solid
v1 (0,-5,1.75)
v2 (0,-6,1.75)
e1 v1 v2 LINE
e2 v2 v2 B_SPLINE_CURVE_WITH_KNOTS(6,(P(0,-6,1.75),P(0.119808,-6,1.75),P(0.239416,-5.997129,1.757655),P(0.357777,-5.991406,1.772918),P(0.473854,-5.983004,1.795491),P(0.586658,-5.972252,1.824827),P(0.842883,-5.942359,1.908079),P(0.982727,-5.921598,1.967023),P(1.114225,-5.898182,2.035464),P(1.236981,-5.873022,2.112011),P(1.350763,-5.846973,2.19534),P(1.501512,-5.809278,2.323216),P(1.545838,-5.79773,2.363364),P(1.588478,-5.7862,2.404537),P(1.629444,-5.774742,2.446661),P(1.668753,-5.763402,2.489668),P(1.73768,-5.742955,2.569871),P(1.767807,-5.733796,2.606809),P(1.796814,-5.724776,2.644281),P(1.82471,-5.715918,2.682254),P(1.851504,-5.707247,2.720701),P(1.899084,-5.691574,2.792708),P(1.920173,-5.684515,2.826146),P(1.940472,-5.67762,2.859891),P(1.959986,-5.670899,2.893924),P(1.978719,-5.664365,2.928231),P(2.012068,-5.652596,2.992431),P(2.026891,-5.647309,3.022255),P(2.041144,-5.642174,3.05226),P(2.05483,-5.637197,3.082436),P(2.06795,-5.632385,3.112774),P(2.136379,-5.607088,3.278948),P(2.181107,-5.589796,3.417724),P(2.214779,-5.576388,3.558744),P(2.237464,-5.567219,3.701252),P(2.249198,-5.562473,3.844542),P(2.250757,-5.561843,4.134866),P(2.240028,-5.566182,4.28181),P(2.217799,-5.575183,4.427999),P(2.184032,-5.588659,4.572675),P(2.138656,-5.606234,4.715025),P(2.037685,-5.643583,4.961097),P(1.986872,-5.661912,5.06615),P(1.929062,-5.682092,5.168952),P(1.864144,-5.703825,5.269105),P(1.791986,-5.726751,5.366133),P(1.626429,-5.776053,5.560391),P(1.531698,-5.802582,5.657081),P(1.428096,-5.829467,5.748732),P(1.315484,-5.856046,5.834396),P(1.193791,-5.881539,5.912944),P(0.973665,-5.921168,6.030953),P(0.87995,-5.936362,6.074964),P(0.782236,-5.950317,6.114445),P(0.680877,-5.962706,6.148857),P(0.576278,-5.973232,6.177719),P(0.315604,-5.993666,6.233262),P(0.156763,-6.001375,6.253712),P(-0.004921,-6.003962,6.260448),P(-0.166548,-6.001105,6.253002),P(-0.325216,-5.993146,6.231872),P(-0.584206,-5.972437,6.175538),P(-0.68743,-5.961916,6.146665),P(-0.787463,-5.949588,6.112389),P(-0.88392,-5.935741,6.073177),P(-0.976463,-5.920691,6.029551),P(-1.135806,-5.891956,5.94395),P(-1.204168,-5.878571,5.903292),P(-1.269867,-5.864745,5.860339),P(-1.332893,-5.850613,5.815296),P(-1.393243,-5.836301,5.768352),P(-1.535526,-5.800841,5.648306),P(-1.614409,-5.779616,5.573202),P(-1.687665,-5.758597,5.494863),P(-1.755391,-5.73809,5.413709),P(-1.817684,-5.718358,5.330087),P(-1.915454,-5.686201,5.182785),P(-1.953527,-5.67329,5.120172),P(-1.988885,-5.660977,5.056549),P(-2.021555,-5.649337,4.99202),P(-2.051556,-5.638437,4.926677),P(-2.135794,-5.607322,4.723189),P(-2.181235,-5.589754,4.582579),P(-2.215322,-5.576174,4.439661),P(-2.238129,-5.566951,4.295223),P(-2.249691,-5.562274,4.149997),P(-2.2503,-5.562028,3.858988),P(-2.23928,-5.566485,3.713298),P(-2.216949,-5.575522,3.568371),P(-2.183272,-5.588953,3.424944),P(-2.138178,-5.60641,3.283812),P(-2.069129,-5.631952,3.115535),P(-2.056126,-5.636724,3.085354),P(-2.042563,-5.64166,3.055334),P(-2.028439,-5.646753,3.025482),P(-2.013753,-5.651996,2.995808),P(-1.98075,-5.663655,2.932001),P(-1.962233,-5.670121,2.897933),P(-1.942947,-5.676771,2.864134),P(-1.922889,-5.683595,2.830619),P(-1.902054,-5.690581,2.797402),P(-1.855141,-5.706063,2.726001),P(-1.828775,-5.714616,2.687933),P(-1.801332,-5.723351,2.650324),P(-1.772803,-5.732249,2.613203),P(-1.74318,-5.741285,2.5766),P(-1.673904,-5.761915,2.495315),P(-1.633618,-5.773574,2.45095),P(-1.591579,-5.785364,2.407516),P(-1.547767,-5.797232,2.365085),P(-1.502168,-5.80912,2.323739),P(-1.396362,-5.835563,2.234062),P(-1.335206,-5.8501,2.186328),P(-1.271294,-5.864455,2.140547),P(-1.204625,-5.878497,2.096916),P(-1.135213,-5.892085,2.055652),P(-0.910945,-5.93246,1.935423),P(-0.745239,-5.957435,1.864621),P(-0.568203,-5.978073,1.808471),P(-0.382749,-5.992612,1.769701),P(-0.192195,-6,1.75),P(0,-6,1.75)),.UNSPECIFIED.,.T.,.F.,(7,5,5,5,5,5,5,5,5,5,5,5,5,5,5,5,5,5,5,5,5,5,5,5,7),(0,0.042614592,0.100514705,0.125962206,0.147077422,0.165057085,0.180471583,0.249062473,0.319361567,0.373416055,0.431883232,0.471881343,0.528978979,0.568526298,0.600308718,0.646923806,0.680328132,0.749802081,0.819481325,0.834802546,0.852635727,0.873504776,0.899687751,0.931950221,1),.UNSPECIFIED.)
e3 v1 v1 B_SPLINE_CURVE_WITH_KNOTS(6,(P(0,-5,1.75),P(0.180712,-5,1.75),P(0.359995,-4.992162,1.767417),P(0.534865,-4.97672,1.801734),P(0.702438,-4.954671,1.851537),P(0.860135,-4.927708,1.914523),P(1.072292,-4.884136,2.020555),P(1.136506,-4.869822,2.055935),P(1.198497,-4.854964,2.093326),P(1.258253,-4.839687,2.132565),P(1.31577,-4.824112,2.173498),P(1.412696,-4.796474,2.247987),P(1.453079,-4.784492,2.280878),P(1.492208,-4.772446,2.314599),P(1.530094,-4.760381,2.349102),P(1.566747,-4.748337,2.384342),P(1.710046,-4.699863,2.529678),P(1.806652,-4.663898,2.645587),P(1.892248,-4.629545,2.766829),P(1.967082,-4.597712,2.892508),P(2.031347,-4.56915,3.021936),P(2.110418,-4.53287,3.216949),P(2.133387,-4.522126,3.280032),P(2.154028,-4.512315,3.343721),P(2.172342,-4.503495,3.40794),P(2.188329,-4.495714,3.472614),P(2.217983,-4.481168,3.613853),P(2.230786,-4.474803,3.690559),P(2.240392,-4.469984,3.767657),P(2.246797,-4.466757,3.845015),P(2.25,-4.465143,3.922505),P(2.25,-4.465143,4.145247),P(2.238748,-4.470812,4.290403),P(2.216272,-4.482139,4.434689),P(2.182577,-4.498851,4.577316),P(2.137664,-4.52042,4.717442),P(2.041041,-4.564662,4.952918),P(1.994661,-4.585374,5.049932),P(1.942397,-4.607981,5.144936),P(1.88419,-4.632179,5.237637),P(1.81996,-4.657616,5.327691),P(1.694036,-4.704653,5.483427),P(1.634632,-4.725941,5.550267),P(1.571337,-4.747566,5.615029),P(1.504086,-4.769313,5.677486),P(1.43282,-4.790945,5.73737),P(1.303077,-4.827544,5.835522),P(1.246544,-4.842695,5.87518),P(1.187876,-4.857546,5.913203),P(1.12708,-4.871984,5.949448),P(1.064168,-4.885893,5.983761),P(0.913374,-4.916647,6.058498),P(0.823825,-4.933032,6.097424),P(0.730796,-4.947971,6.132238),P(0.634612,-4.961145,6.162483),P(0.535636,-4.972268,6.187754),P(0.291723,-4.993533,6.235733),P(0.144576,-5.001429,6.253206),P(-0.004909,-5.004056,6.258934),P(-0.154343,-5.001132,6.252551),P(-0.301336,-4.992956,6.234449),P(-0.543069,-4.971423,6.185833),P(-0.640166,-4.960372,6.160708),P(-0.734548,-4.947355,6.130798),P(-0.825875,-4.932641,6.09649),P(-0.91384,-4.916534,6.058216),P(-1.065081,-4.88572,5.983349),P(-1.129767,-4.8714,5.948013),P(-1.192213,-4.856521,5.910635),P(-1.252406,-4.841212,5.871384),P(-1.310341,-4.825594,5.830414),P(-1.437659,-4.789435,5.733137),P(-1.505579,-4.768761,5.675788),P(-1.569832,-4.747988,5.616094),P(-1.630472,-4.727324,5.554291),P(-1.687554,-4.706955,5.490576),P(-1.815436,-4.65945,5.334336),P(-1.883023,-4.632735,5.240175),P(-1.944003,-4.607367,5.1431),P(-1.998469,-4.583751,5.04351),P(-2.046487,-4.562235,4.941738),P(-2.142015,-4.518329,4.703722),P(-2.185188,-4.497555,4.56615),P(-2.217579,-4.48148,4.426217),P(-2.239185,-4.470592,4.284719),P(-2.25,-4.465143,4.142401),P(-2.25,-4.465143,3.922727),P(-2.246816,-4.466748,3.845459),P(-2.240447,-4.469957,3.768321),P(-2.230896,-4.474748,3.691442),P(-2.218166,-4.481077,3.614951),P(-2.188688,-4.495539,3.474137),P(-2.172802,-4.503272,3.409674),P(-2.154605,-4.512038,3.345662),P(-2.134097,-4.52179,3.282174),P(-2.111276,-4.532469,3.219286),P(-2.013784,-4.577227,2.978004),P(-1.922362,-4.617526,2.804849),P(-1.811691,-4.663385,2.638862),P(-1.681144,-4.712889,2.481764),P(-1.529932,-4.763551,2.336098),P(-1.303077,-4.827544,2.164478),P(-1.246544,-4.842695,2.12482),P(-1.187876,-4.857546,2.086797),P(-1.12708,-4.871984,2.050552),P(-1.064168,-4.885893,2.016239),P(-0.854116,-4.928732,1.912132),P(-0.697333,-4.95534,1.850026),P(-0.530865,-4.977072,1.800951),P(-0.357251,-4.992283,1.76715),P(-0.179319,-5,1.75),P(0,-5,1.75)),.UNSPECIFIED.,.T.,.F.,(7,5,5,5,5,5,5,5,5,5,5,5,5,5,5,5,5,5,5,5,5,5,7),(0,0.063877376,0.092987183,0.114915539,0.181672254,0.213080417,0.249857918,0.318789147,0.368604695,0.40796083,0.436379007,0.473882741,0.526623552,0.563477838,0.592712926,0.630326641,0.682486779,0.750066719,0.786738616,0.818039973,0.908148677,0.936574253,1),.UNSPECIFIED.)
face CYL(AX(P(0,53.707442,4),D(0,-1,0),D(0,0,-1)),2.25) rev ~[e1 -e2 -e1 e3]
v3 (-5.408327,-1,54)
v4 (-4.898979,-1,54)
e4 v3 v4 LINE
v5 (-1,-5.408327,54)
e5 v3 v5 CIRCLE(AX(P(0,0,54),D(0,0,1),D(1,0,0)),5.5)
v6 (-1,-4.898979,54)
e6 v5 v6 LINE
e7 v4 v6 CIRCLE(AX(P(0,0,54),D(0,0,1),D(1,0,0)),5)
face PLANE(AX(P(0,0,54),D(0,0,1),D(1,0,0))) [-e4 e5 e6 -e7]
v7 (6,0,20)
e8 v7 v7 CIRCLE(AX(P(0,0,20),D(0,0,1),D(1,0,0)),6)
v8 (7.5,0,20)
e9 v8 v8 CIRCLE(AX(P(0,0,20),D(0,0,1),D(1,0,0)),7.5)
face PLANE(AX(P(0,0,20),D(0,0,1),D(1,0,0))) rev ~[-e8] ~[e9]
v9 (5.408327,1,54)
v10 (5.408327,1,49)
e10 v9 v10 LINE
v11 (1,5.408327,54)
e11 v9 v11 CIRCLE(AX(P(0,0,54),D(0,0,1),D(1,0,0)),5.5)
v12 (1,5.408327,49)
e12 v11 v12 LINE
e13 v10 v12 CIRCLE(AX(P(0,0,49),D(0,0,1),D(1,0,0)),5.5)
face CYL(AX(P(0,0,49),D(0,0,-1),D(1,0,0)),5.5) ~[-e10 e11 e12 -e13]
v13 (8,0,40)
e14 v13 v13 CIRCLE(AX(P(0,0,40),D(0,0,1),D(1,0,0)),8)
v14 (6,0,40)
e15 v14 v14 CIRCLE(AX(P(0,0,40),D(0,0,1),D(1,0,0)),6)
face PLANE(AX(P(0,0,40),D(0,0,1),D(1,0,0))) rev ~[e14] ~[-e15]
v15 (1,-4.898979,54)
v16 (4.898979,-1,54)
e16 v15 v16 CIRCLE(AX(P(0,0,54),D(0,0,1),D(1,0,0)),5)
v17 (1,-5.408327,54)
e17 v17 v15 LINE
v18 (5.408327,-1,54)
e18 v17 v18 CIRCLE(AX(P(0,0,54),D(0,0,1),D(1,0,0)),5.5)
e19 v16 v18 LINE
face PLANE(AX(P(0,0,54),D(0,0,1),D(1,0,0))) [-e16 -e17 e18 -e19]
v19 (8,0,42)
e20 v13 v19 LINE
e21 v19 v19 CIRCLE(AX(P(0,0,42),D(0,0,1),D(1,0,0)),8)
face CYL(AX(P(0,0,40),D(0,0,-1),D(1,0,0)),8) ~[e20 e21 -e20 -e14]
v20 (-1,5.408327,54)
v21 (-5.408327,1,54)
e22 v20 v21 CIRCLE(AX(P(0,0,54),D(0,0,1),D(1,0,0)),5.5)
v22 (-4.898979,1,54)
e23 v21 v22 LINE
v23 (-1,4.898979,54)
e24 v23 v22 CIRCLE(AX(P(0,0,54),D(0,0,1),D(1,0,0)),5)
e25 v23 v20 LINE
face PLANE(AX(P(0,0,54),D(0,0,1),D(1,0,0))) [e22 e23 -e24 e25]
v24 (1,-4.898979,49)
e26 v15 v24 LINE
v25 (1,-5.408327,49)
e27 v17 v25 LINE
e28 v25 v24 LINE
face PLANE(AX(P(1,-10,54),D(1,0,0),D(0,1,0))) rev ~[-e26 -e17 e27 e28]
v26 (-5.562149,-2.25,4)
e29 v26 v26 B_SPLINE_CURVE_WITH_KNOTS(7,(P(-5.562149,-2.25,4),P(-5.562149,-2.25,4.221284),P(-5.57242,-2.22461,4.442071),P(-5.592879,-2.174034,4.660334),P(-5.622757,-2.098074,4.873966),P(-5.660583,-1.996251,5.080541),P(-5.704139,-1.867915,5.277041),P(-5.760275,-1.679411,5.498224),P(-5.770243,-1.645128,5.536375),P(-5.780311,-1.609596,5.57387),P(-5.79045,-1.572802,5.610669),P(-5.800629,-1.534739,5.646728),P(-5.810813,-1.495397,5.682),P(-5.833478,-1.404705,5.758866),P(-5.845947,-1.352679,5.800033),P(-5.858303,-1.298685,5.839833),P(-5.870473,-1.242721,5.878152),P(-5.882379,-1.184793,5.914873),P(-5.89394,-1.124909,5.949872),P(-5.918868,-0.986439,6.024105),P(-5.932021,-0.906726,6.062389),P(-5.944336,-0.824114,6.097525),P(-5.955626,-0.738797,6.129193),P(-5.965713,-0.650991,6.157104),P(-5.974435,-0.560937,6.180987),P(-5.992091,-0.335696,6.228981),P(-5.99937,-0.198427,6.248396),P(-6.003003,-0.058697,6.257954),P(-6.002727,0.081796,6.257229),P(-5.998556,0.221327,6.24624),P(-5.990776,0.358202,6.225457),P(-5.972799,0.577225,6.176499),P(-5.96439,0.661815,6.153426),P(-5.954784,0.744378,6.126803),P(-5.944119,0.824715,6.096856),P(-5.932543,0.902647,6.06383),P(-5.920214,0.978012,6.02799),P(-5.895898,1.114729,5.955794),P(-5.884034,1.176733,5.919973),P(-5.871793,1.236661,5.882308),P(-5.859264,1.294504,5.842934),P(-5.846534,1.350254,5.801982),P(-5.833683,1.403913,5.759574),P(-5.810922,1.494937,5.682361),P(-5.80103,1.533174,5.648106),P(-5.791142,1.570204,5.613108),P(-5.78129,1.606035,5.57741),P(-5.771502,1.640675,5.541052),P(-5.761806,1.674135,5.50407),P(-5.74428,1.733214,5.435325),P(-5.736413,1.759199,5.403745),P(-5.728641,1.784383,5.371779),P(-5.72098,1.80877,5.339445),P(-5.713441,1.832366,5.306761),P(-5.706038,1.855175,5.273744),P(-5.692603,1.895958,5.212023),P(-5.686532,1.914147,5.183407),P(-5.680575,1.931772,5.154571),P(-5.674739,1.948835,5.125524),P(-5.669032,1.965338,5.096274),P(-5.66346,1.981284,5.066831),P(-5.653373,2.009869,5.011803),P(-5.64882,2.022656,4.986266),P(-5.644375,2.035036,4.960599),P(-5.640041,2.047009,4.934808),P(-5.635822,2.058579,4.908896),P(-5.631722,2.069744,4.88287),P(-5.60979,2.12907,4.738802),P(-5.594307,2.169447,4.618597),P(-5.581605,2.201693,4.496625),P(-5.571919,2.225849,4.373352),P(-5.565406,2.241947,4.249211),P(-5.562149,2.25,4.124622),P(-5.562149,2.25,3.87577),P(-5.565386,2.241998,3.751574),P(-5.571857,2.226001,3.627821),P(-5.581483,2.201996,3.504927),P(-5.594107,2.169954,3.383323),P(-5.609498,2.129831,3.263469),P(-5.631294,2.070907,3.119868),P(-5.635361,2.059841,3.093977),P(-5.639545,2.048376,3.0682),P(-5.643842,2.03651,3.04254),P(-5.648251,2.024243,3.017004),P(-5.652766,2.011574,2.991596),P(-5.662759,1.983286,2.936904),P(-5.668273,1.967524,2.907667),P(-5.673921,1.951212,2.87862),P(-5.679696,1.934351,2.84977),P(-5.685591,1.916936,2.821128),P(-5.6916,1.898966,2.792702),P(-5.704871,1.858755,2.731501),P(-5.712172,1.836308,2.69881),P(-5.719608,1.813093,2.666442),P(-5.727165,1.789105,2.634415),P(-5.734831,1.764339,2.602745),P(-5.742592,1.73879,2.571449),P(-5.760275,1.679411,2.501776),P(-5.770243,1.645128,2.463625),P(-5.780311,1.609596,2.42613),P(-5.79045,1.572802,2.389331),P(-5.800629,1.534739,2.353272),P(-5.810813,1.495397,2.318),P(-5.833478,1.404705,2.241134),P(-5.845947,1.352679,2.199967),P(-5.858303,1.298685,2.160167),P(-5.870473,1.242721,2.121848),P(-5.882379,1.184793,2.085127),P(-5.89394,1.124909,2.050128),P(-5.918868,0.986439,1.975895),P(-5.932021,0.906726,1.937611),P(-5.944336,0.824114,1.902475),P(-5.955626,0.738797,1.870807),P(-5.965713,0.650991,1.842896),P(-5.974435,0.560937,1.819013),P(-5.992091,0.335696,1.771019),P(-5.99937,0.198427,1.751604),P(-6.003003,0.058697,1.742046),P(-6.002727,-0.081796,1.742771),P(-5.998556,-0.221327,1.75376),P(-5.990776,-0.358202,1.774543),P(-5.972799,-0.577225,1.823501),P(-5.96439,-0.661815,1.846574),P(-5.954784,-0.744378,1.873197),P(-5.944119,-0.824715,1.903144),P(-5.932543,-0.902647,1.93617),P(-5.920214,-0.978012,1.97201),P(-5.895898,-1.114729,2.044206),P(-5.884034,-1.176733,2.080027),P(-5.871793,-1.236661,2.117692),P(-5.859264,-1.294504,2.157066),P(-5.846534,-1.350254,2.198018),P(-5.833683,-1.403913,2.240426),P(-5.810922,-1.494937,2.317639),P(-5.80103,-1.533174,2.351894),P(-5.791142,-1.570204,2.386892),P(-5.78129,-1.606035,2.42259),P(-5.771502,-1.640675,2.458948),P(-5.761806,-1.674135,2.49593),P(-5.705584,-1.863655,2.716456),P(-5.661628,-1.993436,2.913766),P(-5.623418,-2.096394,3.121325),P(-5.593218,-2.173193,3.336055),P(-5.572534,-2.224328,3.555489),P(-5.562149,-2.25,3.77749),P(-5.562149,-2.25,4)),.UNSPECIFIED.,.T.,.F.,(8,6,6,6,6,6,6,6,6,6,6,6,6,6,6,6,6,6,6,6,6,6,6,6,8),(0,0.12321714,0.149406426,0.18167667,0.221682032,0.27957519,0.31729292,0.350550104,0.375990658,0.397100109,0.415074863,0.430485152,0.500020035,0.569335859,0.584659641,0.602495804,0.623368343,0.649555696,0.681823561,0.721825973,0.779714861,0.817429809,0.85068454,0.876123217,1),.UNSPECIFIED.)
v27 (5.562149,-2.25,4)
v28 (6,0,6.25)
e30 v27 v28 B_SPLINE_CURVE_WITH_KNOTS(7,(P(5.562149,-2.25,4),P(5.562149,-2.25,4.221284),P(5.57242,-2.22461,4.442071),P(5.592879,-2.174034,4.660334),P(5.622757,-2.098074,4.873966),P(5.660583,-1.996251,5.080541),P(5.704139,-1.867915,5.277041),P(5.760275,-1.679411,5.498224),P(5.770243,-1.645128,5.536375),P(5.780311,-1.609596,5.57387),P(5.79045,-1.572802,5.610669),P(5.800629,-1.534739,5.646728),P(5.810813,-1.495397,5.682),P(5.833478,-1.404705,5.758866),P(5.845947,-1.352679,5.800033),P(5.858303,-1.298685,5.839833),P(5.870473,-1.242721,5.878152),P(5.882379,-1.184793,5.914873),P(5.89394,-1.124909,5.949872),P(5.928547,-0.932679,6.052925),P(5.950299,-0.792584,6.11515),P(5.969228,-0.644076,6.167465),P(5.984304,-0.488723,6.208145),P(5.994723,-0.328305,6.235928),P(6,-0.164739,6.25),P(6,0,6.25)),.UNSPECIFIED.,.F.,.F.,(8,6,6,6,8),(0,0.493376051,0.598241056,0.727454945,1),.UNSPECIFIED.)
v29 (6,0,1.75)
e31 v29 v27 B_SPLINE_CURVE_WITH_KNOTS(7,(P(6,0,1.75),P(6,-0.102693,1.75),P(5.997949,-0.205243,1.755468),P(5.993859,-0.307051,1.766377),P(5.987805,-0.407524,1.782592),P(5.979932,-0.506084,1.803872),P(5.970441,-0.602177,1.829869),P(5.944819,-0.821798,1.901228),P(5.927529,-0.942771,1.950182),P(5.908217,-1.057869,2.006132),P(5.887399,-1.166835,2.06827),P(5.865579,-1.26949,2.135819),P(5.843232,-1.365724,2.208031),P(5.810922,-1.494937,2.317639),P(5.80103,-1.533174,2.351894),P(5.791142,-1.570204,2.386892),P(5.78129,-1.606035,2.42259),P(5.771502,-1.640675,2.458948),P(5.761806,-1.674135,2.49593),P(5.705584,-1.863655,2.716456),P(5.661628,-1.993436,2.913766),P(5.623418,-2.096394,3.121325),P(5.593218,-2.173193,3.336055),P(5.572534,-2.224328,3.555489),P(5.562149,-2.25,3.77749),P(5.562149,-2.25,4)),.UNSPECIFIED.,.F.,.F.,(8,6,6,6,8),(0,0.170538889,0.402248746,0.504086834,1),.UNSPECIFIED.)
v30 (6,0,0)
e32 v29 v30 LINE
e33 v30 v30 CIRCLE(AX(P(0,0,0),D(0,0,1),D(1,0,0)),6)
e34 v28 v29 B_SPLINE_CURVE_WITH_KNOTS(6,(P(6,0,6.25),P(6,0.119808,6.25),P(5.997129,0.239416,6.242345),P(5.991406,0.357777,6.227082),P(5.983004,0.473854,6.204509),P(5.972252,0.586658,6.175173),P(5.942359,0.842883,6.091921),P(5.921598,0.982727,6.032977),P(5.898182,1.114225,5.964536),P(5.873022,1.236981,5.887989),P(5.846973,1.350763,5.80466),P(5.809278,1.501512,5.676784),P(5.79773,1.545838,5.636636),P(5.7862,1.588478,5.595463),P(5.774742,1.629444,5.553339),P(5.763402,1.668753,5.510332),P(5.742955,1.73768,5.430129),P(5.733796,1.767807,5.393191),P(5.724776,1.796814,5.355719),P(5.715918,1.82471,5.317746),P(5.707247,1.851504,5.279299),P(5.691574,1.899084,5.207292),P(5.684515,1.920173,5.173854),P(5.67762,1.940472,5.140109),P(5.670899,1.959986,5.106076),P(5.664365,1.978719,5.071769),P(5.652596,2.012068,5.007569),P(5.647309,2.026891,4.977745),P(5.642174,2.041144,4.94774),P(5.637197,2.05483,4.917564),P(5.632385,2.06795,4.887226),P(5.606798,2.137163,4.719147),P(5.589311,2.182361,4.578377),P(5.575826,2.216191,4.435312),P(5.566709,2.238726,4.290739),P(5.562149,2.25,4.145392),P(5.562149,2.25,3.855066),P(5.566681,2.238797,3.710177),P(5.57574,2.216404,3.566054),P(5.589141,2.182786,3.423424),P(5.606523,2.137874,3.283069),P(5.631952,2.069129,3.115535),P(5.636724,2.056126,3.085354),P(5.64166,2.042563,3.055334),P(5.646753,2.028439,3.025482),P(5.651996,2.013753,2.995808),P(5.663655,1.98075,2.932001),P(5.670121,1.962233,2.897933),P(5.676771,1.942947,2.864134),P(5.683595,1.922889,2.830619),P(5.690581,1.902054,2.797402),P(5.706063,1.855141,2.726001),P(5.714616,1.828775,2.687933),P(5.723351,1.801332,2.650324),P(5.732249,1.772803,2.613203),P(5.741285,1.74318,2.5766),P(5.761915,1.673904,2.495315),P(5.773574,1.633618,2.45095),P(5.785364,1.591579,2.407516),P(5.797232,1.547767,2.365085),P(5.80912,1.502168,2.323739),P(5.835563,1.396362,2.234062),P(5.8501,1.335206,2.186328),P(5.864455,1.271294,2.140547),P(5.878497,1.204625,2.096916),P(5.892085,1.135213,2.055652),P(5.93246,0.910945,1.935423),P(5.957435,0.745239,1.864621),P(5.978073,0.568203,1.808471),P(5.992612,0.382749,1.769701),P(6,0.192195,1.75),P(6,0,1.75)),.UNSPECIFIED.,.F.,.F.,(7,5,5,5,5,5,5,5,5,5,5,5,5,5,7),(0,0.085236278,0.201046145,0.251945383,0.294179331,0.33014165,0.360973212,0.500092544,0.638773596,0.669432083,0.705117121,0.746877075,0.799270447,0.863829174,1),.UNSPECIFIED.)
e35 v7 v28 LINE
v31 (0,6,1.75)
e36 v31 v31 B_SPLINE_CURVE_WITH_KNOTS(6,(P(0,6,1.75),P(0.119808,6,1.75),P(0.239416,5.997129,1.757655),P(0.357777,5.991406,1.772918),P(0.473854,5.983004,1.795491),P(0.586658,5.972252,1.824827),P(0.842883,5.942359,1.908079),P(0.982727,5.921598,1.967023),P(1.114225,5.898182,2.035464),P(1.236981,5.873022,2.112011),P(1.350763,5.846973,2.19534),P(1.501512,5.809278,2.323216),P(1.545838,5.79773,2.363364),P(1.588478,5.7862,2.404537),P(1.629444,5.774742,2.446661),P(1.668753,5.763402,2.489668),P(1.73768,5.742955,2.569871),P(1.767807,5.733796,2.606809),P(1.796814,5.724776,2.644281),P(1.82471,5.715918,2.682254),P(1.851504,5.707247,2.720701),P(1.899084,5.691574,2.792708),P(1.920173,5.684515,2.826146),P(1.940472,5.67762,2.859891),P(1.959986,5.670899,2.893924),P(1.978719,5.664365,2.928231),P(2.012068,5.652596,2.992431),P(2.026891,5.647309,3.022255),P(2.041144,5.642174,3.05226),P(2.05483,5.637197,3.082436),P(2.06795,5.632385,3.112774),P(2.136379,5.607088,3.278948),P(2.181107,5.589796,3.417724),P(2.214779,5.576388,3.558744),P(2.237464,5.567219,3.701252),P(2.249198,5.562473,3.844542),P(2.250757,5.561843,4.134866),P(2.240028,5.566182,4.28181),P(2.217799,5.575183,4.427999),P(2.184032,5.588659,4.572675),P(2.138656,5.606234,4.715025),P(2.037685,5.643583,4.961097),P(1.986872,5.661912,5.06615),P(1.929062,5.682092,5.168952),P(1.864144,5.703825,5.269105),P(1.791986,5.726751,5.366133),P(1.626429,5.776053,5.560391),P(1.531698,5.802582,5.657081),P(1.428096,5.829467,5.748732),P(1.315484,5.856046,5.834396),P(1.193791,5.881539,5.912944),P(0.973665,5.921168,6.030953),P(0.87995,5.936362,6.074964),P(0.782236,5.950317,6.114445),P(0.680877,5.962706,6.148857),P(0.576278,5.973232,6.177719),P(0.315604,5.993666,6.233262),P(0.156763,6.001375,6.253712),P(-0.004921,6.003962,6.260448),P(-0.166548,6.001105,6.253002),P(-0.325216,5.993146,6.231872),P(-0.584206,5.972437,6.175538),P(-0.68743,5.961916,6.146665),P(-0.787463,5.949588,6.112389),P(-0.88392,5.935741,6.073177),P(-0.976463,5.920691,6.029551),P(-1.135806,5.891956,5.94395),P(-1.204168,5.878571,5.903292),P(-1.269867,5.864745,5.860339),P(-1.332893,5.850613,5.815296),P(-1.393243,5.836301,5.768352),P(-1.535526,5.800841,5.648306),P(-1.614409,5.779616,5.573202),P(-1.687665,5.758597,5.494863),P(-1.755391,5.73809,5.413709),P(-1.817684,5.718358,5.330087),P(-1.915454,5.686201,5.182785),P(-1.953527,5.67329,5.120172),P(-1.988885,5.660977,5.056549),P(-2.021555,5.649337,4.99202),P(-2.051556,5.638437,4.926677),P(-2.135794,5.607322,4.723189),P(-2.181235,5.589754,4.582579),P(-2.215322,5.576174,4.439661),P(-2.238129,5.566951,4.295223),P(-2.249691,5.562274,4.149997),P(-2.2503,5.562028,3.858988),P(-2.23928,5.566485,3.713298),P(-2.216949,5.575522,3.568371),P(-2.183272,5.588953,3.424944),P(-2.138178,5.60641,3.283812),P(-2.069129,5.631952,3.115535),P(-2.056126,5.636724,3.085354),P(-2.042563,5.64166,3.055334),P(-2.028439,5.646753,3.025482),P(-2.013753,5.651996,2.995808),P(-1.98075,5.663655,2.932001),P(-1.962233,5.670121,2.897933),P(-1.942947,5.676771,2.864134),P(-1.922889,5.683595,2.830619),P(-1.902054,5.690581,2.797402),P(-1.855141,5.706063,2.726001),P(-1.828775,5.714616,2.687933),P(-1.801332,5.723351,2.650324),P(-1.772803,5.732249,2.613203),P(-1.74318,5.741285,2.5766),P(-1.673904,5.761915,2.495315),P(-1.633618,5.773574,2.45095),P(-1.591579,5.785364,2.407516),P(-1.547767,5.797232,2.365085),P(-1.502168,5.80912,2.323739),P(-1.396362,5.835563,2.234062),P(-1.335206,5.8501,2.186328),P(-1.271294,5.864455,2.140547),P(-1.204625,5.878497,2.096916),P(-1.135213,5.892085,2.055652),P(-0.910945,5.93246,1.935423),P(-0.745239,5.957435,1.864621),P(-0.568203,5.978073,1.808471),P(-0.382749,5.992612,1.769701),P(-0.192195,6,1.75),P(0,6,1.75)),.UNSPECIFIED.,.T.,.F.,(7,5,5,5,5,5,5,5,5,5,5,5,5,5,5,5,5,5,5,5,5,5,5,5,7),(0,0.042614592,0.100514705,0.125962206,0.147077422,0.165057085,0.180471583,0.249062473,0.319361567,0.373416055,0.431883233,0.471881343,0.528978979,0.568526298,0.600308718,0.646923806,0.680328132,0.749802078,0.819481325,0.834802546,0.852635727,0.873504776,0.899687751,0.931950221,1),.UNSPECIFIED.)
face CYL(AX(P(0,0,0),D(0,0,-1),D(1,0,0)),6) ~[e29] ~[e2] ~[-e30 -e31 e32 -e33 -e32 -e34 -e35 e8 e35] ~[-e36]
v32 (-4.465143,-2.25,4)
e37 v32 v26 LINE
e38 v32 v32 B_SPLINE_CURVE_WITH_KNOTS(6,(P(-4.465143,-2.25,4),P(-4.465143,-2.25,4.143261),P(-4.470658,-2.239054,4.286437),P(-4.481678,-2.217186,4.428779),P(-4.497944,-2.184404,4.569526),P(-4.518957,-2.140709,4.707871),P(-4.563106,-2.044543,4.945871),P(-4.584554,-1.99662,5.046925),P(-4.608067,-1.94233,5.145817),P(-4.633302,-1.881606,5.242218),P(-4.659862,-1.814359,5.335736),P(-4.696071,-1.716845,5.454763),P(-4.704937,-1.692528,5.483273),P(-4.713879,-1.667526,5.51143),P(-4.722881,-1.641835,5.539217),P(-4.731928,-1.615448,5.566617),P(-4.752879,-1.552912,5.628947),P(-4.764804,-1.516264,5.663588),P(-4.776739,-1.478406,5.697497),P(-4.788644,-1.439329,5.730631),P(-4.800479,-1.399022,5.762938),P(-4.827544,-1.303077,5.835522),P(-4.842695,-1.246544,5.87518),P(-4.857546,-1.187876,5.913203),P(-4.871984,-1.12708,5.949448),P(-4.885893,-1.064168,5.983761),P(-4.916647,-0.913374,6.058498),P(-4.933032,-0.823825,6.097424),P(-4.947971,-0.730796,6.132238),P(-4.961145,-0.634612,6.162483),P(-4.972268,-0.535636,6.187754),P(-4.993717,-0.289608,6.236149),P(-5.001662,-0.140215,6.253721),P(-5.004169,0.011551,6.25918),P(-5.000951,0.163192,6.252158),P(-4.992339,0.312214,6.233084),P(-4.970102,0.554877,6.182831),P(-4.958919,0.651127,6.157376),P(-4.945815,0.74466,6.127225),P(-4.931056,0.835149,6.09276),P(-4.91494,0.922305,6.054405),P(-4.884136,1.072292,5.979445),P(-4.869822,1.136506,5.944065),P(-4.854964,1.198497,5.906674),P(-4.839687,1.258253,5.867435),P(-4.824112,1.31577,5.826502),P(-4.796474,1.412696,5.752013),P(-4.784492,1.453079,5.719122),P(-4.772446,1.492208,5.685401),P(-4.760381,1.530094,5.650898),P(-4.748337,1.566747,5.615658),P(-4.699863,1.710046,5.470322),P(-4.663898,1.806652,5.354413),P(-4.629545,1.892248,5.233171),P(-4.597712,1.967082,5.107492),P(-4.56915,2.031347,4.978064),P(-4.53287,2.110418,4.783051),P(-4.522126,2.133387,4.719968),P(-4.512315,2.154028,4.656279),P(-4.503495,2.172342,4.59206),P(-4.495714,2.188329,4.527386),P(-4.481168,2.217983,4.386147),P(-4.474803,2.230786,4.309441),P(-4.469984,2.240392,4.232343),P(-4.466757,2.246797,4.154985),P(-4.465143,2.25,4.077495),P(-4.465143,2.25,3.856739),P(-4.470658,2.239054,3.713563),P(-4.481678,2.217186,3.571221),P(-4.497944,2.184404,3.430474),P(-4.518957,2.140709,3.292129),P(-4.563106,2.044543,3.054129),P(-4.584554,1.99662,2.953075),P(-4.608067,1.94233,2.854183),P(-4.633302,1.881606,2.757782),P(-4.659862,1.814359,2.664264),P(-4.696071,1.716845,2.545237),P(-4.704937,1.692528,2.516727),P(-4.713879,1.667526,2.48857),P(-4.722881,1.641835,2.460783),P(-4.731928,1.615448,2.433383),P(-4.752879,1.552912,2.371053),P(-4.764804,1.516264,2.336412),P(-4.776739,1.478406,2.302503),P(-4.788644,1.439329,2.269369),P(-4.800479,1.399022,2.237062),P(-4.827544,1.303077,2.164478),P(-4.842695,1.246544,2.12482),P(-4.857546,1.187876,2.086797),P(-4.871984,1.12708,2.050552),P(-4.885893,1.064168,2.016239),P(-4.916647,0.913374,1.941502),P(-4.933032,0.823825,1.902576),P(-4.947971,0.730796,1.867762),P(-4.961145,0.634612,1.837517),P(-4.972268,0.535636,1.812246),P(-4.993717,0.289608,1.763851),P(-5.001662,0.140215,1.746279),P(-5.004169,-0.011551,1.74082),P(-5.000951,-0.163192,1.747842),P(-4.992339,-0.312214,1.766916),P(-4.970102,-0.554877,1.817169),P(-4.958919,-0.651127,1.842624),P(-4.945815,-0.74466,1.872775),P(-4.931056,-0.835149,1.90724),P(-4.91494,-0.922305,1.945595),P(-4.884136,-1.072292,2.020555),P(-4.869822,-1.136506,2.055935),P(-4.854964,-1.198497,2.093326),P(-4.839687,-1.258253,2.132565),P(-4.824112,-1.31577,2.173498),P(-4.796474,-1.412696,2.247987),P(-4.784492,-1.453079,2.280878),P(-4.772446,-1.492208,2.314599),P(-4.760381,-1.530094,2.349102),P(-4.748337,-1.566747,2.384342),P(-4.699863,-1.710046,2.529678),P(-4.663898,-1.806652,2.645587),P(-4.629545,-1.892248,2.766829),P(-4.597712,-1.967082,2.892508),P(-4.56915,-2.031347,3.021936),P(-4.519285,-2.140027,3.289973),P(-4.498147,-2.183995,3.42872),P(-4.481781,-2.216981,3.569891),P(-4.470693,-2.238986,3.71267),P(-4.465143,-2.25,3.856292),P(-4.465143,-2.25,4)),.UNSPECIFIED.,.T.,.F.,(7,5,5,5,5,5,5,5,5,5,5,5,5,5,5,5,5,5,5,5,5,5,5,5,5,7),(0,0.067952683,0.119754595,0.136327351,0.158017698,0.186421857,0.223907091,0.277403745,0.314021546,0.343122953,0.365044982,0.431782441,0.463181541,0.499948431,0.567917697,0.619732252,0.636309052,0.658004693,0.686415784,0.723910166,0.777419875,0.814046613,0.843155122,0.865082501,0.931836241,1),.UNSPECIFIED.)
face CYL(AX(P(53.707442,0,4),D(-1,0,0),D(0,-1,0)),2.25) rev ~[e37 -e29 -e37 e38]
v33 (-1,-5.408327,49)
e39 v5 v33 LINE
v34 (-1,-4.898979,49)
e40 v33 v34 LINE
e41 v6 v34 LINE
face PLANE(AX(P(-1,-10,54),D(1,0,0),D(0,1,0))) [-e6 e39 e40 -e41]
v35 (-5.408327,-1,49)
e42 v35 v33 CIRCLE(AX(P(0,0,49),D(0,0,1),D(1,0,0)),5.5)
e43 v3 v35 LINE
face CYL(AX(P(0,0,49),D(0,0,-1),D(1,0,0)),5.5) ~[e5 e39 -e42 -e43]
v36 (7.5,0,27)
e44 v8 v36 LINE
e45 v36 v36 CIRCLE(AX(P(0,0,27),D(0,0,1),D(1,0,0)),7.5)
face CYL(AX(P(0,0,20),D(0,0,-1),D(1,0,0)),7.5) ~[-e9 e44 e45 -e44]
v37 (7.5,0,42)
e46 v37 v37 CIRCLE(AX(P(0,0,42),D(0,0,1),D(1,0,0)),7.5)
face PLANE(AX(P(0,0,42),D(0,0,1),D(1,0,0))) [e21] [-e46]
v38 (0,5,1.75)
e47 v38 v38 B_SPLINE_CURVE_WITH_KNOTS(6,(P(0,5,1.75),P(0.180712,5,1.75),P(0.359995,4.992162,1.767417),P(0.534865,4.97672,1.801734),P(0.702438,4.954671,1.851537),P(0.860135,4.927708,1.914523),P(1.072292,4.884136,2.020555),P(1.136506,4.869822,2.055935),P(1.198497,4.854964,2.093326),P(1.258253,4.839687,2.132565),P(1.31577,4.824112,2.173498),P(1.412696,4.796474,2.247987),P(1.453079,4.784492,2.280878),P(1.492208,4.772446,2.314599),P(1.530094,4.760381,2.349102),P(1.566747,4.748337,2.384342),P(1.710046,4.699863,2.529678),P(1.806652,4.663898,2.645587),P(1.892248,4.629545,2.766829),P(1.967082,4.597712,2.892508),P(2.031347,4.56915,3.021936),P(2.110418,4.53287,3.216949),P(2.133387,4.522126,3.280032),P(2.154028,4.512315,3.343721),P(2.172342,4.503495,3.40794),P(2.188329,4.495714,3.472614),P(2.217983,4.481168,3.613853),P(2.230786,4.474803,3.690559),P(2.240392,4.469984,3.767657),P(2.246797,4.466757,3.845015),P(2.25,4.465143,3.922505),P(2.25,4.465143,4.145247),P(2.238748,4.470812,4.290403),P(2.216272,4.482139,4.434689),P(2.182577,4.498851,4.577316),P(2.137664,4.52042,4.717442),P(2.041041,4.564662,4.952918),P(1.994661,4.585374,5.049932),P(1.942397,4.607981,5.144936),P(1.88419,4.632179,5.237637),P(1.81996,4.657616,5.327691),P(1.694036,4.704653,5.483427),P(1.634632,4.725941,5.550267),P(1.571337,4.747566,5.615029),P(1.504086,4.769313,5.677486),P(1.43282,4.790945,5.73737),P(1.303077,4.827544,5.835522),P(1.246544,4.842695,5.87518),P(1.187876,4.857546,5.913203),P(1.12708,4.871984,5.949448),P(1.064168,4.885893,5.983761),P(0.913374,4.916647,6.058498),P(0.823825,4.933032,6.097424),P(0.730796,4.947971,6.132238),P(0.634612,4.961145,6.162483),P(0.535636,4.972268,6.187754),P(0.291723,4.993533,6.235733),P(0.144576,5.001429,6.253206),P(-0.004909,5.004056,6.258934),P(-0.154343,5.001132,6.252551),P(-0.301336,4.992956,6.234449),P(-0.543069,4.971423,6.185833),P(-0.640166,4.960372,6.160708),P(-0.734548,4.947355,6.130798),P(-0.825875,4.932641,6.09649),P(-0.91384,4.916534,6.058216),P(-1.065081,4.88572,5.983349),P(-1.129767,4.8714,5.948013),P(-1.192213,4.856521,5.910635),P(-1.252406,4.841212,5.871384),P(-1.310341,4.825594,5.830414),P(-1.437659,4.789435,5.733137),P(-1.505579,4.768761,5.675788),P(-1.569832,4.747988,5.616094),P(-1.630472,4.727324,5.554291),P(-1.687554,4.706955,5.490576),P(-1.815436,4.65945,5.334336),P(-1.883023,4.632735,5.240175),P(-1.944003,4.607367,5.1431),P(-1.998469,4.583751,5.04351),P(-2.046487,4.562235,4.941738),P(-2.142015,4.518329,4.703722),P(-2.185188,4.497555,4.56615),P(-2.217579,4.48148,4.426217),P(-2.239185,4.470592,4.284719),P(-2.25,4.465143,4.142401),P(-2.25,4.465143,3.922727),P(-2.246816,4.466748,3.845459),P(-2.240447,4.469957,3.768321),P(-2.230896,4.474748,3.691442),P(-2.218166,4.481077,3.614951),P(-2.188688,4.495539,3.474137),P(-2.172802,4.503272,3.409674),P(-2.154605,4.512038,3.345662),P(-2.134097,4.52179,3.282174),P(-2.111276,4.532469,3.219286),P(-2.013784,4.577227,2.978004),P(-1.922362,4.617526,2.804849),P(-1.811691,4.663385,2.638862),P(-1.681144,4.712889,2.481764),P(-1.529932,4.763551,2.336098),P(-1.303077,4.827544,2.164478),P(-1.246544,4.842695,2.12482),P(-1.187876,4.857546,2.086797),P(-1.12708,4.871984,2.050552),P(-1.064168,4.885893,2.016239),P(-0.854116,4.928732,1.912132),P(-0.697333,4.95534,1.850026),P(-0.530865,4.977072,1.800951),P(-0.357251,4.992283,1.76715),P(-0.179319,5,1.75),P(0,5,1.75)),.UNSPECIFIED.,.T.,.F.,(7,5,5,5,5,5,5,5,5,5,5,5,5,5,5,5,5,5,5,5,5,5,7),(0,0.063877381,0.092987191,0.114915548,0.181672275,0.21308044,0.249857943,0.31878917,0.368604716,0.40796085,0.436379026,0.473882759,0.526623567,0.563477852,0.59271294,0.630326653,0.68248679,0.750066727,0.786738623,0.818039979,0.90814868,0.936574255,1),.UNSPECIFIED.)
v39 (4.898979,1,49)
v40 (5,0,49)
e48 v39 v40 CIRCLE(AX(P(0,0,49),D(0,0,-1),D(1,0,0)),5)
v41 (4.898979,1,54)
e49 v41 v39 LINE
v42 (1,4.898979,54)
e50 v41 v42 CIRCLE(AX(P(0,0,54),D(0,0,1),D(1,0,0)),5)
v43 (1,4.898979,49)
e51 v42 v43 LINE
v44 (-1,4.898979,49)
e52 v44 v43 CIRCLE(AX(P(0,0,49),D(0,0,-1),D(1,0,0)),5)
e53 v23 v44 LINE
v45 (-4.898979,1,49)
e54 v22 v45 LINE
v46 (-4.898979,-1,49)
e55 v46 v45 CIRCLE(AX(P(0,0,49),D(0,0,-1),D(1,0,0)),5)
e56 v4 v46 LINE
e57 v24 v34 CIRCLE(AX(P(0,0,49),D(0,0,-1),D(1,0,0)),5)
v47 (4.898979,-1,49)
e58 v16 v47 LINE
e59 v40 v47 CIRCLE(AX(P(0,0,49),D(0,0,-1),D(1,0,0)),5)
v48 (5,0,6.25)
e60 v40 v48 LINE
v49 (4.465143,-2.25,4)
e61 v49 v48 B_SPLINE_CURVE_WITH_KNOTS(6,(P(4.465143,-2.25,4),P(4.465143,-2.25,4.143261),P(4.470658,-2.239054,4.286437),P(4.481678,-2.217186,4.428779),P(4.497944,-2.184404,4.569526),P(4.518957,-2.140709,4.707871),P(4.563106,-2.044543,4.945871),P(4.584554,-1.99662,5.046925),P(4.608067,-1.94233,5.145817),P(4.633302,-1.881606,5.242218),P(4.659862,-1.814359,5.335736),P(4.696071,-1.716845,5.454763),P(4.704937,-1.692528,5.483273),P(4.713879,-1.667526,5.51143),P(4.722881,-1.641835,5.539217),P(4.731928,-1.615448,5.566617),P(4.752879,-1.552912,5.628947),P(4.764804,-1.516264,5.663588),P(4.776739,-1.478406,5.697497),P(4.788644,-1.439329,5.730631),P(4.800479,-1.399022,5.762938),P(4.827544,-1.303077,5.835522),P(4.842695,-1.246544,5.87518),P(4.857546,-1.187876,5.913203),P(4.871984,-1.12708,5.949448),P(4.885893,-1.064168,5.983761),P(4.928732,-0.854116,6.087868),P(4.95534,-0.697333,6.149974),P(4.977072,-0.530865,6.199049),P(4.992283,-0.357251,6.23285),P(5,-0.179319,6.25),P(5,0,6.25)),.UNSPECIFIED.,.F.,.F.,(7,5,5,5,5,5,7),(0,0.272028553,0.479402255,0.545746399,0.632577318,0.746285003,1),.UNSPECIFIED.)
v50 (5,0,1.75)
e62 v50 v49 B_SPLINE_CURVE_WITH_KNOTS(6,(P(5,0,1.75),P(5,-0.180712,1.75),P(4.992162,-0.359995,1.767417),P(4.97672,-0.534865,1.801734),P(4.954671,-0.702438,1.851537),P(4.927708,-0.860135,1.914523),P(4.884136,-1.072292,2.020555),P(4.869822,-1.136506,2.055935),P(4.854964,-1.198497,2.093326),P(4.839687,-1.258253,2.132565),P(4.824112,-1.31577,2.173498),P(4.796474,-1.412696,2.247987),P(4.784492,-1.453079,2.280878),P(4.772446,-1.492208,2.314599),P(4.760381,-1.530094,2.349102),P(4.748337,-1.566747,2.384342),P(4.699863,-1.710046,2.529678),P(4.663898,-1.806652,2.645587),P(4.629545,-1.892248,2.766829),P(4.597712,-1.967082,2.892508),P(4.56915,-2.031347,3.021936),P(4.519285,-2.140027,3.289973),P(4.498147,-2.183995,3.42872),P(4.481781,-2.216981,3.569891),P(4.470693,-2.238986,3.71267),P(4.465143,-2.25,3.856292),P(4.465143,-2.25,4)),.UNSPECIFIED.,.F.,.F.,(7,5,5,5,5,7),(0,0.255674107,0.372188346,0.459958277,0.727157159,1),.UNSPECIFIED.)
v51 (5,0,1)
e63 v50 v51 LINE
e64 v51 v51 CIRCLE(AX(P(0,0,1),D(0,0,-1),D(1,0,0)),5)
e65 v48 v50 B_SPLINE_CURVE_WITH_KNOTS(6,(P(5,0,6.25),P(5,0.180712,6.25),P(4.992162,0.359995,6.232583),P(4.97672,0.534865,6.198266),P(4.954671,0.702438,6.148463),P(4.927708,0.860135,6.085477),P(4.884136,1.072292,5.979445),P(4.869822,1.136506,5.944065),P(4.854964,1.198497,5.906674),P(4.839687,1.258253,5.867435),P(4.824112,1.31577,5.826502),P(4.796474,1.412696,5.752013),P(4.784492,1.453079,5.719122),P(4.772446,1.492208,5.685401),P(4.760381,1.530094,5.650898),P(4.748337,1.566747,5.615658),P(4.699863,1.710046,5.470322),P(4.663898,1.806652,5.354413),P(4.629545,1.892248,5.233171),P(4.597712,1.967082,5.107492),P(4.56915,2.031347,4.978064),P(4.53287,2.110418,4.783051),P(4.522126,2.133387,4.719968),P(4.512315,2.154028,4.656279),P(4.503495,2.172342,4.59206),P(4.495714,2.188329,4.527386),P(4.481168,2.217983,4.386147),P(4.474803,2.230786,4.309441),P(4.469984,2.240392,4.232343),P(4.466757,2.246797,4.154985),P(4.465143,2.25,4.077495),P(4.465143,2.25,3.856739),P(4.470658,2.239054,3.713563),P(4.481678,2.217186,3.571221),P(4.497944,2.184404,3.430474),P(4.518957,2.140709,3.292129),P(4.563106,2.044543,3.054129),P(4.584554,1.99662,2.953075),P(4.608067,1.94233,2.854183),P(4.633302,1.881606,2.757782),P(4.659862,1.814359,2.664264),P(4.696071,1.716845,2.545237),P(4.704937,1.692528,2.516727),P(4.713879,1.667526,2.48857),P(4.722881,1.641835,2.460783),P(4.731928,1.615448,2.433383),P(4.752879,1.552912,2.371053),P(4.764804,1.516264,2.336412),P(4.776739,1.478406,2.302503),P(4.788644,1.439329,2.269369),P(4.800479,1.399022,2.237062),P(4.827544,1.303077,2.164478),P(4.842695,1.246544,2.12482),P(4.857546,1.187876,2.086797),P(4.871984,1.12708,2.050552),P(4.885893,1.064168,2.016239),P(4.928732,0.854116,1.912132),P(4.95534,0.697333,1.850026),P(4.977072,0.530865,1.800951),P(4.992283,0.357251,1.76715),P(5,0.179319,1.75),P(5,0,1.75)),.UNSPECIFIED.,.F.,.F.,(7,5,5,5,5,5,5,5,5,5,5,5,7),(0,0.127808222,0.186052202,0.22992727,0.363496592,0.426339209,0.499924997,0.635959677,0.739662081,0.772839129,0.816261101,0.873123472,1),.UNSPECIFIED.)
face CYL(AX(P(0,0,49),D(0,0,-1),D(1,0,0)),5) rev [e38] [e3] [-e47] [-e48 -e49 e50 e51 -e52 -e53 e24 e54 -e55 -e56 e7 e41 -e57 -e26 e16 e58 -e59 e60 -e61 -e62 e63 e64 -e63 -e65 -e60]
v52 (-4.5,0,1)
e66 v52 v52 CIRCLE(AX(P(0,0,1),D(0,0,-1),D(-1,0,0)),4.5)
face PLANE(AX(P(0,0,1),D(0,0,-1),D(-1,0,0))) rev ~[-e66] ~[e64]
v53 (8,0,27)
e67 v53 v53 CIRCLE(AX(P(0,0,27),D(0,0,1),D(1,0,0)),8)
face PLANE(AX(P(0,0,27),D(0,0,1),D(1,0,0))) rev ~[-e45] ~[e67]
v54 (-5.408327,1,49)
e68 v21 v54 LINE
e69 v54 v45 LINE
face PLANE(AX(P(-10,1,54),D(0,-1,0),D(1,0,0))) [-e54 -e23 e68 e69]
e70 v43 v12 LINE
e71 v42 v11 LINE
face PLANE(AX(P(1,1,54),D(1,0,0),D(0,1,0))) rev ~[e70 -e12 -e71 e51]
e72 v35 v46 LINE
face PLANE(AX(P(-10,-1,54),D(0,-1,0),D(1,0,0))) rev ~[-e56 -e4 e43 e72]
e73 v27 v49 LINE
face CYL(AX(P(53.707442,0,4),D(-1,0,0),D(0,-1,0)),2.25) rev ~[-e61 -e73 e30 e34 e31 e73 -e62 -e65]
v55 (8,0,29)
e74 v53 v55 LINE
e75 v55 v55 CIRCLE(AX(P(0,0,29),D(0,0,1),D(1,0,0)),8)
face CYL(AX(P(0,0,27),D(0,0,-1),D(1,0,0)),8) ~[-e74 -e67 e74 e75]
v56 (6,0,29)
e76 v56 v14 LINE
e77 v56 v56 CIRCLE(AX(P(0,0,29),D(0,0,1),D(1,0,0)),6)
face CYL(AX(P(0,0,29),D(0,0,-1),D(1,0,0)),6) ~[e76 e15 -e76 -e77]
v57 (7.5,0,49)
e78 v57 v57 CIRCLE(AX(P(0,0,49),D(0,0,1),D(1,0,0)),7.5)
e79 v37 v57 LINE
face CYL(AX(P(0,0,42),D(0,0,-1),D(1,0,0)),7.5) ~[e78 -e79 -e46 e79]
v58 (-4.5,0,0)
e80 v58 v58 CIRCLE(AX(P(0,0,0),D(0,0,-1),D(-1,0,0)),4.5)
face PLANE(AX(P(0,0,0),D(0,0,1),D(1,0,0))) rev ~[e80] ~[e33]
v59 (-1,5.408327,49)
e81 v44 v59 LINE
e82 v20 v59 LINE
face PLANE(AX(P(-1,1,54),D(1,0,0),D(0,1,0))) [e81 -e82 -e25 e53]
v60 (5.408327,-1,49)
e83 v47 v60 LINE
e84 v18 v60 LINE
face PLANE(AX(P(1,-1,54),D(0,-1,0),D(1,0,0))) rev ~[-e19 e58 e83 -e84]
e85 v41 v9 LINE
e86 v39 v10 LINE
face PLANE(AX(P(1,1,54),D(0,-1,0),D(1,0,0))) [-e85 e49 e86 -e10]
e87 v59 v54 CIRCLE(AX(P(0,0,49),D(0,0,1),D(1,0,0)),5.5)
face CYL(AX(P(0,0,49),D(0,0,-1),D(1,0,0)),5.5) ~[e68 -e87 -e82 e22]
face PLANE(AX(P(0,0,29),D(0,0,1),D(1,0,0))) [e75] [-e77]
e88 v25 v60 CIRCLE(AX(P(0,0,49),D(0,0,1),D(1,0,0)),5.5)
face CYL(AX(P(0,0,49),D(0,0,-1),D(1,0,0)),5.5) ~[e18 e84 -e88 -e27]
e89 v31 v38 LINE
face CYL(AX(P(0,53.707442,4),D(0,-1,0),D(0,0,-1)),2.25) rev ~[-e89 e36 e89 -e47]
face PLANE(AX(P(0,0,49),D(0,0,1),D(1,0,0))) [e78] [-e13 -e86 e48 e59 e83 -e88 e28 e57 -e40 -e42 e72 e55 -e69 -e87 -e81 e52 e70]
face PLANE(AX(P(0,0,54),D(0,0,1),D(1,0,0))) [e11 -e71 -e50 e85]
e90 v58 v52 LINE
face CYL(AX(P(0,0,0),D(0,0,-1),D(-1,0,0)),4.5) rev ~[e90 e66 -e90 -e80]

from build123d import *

# Parameters (mm, degrees)
ESQUISSE1_R                = 6
ESQUISSE1_R_2              = 5
BOSS_EXTRU_1_DEPTH         = 20
ESQUISSE2_R                = 6
ESQUISSE2_R_2              = 4.5
BOSS_EXTRU_2_DEPTH         = 1
ESQUISSE3_R                = 7.5
ESQUISSE3_R_2              = 5
BOSS_EXTRU_3_DEPTH         = 7
ESQUISSE4_R                = 8
ESQUISSE4_R_2              = 5
BOSS_EXTRU_4_DEPTH         = 2
ESQUISSE7_R                = 6
ESQUISSE7_R_2              = 5
BOSS_EXTRU_7_DEPTH         = 11
ESQUISSE8_R                = 8
ESQUISSE8_R_2              = 5
BOSS_EXTRU_8_DEPTH         = 2
D_GAGEMENT_M41_D           = 4.5
D_GAGEMENT_M41_ON_FACE_2_D = 4.5
ESQUISSE15_R               = 7.5
ESQUISSE15_R_2             = 5
BOSS_EXTRU_9_DEPTH         = 7
ESQUISSE16_R               = 5.5
ESQUISSE16_R_2             = 5
BOSS_EXTRU_10_DEPTH        = 5
ESQUISSE17_W               = 20
ESQUISSE17_H               = 2
ESQUISSE17_W_2             = 2
ESQUISSE17_H_2             = 20
ENL_V_MAT_EXTRU_1_DEPTH    = 5


with BuildPart() as part:
    # Esquisse1 → Boss.-Extru.1 (new body)
    with BuildSketch(Plane.XY):
        Circle(ESQUISSE1_R)
        Circle(ESQUISSE1_R_2, mode=Mode.SUBTRACT)
    extrude(amount=BOSS_EXTRU_1_DEPTH)

    # Esquisse2 → Boss.-Extru.2 (add)
    with BuildSketch(Plane(origin=(0, 0, 0), x_dir=(-1, 0, 0), z_dir=(0, 0, -1))):
        Circle(ESQUISSE2_R)
        Circle(ESQUISSE2_R_2, mode=Mode.SUBTRACT)
    extrude(amount=-BOSS_EXTRU_2_DEPTH)

    # Esquisse3 → Boss.-Extru.3 (add)
    with BuildSketch(Plane.XY.offset(20)):
        Circle(ESQUISSE3_R)
        Circle(ESQUISSE3_R_2, mode=Mode.SUBTRACT)
    extrude(amount=BOSS_EXTRU_3_DEPTH)

    # Esquisse4 → Boss.-Extru.4 (add)
    with BuildSketch(Plane.XY.offset(27)):
        Circle(ESQUISSE4_R)
        Circle(ESQUISSE4_R_2, mode=Mode.SUBTRACT)
    extrude(amount=BOSS_EXTRU_4_DEPTH)

    # Esquisse7 → Boss.-Extru.7 (add)
    with BuildSketch(Plane.XY.offset(29)):
        Circle(ESQUISSE7_R)
        Circle(ESQUISSE7_R_2, mode=Mode.SUBTRACT)
    extrude(amount=BOSS_EXTRU_7_DEPTH)

    # Esquisse8 → Boss.-Extru.8 (add)
    with BuildSketch(Plane.XY.offset(40)):
        Circle(ESQUISSE8_R)
        Circle(ESQUISSE8_R_2, mode=Mode.SUBTRACT)
    extrude(amount=BOSS_EXTRU_8_DEPTH)

    # Dégagement M41 (through all)
    with Locations(Plane(origin=(6, 0, 4), x_dir=(0, 1, 0), z_dir=(1, 0, 0))):
        with Locations((0, 0)):
            Hole(D_GAGEMENT_M41_D / 2)

    # Dégagement M41 on face 2 (through all)
    with Locations(Plane(origin=(0, 6, 4), x_dir=(0, 0, 1), z_dir=(0, 1, 0))):
        with Locations((0, 0)):
            Hole(D_GAGEMENT_M41_ON_FACE_2_D / 2)

    # Esquisse15 → Boss.-Extru.9 (add)
    with BuildSketch(Plane.XY.offset(42)):
        Circle(ESQUISSE15_R)
        Circle(ESQUISSE15_R_2, mode=Mode.SUBTRACT)
    extrude(amount=BOSS_EXTRU_9_DEPTH)

    # Esquisse16 → Boss.-Extru.10 (add)
    with BuildSketch(Plane.XY.offset(49)):
        Circle(ESQUISSE16_R)
        Circle(ESQUISSE16_R_2, mode=Mode.SUBTRACT)
    extrude(amount=BOSS_EXTRU_10_DEPTH)

    # Esquisse17 → Enlèv. mat.-Extru.1 (cut)
    with BuildSketch(Plane.XY.offset(54)):
        Rectangle(ESQUISSE17_W, ESQUISSE17_H)
        Rectangle(ESQUISSE17_W_2, ESQUISSE17_H_2)
    extrude(amount=-ENL_V_MAT_EXTRU_1_DEPTH, mode=Mode.SUBTRACT)


solid = part.part
